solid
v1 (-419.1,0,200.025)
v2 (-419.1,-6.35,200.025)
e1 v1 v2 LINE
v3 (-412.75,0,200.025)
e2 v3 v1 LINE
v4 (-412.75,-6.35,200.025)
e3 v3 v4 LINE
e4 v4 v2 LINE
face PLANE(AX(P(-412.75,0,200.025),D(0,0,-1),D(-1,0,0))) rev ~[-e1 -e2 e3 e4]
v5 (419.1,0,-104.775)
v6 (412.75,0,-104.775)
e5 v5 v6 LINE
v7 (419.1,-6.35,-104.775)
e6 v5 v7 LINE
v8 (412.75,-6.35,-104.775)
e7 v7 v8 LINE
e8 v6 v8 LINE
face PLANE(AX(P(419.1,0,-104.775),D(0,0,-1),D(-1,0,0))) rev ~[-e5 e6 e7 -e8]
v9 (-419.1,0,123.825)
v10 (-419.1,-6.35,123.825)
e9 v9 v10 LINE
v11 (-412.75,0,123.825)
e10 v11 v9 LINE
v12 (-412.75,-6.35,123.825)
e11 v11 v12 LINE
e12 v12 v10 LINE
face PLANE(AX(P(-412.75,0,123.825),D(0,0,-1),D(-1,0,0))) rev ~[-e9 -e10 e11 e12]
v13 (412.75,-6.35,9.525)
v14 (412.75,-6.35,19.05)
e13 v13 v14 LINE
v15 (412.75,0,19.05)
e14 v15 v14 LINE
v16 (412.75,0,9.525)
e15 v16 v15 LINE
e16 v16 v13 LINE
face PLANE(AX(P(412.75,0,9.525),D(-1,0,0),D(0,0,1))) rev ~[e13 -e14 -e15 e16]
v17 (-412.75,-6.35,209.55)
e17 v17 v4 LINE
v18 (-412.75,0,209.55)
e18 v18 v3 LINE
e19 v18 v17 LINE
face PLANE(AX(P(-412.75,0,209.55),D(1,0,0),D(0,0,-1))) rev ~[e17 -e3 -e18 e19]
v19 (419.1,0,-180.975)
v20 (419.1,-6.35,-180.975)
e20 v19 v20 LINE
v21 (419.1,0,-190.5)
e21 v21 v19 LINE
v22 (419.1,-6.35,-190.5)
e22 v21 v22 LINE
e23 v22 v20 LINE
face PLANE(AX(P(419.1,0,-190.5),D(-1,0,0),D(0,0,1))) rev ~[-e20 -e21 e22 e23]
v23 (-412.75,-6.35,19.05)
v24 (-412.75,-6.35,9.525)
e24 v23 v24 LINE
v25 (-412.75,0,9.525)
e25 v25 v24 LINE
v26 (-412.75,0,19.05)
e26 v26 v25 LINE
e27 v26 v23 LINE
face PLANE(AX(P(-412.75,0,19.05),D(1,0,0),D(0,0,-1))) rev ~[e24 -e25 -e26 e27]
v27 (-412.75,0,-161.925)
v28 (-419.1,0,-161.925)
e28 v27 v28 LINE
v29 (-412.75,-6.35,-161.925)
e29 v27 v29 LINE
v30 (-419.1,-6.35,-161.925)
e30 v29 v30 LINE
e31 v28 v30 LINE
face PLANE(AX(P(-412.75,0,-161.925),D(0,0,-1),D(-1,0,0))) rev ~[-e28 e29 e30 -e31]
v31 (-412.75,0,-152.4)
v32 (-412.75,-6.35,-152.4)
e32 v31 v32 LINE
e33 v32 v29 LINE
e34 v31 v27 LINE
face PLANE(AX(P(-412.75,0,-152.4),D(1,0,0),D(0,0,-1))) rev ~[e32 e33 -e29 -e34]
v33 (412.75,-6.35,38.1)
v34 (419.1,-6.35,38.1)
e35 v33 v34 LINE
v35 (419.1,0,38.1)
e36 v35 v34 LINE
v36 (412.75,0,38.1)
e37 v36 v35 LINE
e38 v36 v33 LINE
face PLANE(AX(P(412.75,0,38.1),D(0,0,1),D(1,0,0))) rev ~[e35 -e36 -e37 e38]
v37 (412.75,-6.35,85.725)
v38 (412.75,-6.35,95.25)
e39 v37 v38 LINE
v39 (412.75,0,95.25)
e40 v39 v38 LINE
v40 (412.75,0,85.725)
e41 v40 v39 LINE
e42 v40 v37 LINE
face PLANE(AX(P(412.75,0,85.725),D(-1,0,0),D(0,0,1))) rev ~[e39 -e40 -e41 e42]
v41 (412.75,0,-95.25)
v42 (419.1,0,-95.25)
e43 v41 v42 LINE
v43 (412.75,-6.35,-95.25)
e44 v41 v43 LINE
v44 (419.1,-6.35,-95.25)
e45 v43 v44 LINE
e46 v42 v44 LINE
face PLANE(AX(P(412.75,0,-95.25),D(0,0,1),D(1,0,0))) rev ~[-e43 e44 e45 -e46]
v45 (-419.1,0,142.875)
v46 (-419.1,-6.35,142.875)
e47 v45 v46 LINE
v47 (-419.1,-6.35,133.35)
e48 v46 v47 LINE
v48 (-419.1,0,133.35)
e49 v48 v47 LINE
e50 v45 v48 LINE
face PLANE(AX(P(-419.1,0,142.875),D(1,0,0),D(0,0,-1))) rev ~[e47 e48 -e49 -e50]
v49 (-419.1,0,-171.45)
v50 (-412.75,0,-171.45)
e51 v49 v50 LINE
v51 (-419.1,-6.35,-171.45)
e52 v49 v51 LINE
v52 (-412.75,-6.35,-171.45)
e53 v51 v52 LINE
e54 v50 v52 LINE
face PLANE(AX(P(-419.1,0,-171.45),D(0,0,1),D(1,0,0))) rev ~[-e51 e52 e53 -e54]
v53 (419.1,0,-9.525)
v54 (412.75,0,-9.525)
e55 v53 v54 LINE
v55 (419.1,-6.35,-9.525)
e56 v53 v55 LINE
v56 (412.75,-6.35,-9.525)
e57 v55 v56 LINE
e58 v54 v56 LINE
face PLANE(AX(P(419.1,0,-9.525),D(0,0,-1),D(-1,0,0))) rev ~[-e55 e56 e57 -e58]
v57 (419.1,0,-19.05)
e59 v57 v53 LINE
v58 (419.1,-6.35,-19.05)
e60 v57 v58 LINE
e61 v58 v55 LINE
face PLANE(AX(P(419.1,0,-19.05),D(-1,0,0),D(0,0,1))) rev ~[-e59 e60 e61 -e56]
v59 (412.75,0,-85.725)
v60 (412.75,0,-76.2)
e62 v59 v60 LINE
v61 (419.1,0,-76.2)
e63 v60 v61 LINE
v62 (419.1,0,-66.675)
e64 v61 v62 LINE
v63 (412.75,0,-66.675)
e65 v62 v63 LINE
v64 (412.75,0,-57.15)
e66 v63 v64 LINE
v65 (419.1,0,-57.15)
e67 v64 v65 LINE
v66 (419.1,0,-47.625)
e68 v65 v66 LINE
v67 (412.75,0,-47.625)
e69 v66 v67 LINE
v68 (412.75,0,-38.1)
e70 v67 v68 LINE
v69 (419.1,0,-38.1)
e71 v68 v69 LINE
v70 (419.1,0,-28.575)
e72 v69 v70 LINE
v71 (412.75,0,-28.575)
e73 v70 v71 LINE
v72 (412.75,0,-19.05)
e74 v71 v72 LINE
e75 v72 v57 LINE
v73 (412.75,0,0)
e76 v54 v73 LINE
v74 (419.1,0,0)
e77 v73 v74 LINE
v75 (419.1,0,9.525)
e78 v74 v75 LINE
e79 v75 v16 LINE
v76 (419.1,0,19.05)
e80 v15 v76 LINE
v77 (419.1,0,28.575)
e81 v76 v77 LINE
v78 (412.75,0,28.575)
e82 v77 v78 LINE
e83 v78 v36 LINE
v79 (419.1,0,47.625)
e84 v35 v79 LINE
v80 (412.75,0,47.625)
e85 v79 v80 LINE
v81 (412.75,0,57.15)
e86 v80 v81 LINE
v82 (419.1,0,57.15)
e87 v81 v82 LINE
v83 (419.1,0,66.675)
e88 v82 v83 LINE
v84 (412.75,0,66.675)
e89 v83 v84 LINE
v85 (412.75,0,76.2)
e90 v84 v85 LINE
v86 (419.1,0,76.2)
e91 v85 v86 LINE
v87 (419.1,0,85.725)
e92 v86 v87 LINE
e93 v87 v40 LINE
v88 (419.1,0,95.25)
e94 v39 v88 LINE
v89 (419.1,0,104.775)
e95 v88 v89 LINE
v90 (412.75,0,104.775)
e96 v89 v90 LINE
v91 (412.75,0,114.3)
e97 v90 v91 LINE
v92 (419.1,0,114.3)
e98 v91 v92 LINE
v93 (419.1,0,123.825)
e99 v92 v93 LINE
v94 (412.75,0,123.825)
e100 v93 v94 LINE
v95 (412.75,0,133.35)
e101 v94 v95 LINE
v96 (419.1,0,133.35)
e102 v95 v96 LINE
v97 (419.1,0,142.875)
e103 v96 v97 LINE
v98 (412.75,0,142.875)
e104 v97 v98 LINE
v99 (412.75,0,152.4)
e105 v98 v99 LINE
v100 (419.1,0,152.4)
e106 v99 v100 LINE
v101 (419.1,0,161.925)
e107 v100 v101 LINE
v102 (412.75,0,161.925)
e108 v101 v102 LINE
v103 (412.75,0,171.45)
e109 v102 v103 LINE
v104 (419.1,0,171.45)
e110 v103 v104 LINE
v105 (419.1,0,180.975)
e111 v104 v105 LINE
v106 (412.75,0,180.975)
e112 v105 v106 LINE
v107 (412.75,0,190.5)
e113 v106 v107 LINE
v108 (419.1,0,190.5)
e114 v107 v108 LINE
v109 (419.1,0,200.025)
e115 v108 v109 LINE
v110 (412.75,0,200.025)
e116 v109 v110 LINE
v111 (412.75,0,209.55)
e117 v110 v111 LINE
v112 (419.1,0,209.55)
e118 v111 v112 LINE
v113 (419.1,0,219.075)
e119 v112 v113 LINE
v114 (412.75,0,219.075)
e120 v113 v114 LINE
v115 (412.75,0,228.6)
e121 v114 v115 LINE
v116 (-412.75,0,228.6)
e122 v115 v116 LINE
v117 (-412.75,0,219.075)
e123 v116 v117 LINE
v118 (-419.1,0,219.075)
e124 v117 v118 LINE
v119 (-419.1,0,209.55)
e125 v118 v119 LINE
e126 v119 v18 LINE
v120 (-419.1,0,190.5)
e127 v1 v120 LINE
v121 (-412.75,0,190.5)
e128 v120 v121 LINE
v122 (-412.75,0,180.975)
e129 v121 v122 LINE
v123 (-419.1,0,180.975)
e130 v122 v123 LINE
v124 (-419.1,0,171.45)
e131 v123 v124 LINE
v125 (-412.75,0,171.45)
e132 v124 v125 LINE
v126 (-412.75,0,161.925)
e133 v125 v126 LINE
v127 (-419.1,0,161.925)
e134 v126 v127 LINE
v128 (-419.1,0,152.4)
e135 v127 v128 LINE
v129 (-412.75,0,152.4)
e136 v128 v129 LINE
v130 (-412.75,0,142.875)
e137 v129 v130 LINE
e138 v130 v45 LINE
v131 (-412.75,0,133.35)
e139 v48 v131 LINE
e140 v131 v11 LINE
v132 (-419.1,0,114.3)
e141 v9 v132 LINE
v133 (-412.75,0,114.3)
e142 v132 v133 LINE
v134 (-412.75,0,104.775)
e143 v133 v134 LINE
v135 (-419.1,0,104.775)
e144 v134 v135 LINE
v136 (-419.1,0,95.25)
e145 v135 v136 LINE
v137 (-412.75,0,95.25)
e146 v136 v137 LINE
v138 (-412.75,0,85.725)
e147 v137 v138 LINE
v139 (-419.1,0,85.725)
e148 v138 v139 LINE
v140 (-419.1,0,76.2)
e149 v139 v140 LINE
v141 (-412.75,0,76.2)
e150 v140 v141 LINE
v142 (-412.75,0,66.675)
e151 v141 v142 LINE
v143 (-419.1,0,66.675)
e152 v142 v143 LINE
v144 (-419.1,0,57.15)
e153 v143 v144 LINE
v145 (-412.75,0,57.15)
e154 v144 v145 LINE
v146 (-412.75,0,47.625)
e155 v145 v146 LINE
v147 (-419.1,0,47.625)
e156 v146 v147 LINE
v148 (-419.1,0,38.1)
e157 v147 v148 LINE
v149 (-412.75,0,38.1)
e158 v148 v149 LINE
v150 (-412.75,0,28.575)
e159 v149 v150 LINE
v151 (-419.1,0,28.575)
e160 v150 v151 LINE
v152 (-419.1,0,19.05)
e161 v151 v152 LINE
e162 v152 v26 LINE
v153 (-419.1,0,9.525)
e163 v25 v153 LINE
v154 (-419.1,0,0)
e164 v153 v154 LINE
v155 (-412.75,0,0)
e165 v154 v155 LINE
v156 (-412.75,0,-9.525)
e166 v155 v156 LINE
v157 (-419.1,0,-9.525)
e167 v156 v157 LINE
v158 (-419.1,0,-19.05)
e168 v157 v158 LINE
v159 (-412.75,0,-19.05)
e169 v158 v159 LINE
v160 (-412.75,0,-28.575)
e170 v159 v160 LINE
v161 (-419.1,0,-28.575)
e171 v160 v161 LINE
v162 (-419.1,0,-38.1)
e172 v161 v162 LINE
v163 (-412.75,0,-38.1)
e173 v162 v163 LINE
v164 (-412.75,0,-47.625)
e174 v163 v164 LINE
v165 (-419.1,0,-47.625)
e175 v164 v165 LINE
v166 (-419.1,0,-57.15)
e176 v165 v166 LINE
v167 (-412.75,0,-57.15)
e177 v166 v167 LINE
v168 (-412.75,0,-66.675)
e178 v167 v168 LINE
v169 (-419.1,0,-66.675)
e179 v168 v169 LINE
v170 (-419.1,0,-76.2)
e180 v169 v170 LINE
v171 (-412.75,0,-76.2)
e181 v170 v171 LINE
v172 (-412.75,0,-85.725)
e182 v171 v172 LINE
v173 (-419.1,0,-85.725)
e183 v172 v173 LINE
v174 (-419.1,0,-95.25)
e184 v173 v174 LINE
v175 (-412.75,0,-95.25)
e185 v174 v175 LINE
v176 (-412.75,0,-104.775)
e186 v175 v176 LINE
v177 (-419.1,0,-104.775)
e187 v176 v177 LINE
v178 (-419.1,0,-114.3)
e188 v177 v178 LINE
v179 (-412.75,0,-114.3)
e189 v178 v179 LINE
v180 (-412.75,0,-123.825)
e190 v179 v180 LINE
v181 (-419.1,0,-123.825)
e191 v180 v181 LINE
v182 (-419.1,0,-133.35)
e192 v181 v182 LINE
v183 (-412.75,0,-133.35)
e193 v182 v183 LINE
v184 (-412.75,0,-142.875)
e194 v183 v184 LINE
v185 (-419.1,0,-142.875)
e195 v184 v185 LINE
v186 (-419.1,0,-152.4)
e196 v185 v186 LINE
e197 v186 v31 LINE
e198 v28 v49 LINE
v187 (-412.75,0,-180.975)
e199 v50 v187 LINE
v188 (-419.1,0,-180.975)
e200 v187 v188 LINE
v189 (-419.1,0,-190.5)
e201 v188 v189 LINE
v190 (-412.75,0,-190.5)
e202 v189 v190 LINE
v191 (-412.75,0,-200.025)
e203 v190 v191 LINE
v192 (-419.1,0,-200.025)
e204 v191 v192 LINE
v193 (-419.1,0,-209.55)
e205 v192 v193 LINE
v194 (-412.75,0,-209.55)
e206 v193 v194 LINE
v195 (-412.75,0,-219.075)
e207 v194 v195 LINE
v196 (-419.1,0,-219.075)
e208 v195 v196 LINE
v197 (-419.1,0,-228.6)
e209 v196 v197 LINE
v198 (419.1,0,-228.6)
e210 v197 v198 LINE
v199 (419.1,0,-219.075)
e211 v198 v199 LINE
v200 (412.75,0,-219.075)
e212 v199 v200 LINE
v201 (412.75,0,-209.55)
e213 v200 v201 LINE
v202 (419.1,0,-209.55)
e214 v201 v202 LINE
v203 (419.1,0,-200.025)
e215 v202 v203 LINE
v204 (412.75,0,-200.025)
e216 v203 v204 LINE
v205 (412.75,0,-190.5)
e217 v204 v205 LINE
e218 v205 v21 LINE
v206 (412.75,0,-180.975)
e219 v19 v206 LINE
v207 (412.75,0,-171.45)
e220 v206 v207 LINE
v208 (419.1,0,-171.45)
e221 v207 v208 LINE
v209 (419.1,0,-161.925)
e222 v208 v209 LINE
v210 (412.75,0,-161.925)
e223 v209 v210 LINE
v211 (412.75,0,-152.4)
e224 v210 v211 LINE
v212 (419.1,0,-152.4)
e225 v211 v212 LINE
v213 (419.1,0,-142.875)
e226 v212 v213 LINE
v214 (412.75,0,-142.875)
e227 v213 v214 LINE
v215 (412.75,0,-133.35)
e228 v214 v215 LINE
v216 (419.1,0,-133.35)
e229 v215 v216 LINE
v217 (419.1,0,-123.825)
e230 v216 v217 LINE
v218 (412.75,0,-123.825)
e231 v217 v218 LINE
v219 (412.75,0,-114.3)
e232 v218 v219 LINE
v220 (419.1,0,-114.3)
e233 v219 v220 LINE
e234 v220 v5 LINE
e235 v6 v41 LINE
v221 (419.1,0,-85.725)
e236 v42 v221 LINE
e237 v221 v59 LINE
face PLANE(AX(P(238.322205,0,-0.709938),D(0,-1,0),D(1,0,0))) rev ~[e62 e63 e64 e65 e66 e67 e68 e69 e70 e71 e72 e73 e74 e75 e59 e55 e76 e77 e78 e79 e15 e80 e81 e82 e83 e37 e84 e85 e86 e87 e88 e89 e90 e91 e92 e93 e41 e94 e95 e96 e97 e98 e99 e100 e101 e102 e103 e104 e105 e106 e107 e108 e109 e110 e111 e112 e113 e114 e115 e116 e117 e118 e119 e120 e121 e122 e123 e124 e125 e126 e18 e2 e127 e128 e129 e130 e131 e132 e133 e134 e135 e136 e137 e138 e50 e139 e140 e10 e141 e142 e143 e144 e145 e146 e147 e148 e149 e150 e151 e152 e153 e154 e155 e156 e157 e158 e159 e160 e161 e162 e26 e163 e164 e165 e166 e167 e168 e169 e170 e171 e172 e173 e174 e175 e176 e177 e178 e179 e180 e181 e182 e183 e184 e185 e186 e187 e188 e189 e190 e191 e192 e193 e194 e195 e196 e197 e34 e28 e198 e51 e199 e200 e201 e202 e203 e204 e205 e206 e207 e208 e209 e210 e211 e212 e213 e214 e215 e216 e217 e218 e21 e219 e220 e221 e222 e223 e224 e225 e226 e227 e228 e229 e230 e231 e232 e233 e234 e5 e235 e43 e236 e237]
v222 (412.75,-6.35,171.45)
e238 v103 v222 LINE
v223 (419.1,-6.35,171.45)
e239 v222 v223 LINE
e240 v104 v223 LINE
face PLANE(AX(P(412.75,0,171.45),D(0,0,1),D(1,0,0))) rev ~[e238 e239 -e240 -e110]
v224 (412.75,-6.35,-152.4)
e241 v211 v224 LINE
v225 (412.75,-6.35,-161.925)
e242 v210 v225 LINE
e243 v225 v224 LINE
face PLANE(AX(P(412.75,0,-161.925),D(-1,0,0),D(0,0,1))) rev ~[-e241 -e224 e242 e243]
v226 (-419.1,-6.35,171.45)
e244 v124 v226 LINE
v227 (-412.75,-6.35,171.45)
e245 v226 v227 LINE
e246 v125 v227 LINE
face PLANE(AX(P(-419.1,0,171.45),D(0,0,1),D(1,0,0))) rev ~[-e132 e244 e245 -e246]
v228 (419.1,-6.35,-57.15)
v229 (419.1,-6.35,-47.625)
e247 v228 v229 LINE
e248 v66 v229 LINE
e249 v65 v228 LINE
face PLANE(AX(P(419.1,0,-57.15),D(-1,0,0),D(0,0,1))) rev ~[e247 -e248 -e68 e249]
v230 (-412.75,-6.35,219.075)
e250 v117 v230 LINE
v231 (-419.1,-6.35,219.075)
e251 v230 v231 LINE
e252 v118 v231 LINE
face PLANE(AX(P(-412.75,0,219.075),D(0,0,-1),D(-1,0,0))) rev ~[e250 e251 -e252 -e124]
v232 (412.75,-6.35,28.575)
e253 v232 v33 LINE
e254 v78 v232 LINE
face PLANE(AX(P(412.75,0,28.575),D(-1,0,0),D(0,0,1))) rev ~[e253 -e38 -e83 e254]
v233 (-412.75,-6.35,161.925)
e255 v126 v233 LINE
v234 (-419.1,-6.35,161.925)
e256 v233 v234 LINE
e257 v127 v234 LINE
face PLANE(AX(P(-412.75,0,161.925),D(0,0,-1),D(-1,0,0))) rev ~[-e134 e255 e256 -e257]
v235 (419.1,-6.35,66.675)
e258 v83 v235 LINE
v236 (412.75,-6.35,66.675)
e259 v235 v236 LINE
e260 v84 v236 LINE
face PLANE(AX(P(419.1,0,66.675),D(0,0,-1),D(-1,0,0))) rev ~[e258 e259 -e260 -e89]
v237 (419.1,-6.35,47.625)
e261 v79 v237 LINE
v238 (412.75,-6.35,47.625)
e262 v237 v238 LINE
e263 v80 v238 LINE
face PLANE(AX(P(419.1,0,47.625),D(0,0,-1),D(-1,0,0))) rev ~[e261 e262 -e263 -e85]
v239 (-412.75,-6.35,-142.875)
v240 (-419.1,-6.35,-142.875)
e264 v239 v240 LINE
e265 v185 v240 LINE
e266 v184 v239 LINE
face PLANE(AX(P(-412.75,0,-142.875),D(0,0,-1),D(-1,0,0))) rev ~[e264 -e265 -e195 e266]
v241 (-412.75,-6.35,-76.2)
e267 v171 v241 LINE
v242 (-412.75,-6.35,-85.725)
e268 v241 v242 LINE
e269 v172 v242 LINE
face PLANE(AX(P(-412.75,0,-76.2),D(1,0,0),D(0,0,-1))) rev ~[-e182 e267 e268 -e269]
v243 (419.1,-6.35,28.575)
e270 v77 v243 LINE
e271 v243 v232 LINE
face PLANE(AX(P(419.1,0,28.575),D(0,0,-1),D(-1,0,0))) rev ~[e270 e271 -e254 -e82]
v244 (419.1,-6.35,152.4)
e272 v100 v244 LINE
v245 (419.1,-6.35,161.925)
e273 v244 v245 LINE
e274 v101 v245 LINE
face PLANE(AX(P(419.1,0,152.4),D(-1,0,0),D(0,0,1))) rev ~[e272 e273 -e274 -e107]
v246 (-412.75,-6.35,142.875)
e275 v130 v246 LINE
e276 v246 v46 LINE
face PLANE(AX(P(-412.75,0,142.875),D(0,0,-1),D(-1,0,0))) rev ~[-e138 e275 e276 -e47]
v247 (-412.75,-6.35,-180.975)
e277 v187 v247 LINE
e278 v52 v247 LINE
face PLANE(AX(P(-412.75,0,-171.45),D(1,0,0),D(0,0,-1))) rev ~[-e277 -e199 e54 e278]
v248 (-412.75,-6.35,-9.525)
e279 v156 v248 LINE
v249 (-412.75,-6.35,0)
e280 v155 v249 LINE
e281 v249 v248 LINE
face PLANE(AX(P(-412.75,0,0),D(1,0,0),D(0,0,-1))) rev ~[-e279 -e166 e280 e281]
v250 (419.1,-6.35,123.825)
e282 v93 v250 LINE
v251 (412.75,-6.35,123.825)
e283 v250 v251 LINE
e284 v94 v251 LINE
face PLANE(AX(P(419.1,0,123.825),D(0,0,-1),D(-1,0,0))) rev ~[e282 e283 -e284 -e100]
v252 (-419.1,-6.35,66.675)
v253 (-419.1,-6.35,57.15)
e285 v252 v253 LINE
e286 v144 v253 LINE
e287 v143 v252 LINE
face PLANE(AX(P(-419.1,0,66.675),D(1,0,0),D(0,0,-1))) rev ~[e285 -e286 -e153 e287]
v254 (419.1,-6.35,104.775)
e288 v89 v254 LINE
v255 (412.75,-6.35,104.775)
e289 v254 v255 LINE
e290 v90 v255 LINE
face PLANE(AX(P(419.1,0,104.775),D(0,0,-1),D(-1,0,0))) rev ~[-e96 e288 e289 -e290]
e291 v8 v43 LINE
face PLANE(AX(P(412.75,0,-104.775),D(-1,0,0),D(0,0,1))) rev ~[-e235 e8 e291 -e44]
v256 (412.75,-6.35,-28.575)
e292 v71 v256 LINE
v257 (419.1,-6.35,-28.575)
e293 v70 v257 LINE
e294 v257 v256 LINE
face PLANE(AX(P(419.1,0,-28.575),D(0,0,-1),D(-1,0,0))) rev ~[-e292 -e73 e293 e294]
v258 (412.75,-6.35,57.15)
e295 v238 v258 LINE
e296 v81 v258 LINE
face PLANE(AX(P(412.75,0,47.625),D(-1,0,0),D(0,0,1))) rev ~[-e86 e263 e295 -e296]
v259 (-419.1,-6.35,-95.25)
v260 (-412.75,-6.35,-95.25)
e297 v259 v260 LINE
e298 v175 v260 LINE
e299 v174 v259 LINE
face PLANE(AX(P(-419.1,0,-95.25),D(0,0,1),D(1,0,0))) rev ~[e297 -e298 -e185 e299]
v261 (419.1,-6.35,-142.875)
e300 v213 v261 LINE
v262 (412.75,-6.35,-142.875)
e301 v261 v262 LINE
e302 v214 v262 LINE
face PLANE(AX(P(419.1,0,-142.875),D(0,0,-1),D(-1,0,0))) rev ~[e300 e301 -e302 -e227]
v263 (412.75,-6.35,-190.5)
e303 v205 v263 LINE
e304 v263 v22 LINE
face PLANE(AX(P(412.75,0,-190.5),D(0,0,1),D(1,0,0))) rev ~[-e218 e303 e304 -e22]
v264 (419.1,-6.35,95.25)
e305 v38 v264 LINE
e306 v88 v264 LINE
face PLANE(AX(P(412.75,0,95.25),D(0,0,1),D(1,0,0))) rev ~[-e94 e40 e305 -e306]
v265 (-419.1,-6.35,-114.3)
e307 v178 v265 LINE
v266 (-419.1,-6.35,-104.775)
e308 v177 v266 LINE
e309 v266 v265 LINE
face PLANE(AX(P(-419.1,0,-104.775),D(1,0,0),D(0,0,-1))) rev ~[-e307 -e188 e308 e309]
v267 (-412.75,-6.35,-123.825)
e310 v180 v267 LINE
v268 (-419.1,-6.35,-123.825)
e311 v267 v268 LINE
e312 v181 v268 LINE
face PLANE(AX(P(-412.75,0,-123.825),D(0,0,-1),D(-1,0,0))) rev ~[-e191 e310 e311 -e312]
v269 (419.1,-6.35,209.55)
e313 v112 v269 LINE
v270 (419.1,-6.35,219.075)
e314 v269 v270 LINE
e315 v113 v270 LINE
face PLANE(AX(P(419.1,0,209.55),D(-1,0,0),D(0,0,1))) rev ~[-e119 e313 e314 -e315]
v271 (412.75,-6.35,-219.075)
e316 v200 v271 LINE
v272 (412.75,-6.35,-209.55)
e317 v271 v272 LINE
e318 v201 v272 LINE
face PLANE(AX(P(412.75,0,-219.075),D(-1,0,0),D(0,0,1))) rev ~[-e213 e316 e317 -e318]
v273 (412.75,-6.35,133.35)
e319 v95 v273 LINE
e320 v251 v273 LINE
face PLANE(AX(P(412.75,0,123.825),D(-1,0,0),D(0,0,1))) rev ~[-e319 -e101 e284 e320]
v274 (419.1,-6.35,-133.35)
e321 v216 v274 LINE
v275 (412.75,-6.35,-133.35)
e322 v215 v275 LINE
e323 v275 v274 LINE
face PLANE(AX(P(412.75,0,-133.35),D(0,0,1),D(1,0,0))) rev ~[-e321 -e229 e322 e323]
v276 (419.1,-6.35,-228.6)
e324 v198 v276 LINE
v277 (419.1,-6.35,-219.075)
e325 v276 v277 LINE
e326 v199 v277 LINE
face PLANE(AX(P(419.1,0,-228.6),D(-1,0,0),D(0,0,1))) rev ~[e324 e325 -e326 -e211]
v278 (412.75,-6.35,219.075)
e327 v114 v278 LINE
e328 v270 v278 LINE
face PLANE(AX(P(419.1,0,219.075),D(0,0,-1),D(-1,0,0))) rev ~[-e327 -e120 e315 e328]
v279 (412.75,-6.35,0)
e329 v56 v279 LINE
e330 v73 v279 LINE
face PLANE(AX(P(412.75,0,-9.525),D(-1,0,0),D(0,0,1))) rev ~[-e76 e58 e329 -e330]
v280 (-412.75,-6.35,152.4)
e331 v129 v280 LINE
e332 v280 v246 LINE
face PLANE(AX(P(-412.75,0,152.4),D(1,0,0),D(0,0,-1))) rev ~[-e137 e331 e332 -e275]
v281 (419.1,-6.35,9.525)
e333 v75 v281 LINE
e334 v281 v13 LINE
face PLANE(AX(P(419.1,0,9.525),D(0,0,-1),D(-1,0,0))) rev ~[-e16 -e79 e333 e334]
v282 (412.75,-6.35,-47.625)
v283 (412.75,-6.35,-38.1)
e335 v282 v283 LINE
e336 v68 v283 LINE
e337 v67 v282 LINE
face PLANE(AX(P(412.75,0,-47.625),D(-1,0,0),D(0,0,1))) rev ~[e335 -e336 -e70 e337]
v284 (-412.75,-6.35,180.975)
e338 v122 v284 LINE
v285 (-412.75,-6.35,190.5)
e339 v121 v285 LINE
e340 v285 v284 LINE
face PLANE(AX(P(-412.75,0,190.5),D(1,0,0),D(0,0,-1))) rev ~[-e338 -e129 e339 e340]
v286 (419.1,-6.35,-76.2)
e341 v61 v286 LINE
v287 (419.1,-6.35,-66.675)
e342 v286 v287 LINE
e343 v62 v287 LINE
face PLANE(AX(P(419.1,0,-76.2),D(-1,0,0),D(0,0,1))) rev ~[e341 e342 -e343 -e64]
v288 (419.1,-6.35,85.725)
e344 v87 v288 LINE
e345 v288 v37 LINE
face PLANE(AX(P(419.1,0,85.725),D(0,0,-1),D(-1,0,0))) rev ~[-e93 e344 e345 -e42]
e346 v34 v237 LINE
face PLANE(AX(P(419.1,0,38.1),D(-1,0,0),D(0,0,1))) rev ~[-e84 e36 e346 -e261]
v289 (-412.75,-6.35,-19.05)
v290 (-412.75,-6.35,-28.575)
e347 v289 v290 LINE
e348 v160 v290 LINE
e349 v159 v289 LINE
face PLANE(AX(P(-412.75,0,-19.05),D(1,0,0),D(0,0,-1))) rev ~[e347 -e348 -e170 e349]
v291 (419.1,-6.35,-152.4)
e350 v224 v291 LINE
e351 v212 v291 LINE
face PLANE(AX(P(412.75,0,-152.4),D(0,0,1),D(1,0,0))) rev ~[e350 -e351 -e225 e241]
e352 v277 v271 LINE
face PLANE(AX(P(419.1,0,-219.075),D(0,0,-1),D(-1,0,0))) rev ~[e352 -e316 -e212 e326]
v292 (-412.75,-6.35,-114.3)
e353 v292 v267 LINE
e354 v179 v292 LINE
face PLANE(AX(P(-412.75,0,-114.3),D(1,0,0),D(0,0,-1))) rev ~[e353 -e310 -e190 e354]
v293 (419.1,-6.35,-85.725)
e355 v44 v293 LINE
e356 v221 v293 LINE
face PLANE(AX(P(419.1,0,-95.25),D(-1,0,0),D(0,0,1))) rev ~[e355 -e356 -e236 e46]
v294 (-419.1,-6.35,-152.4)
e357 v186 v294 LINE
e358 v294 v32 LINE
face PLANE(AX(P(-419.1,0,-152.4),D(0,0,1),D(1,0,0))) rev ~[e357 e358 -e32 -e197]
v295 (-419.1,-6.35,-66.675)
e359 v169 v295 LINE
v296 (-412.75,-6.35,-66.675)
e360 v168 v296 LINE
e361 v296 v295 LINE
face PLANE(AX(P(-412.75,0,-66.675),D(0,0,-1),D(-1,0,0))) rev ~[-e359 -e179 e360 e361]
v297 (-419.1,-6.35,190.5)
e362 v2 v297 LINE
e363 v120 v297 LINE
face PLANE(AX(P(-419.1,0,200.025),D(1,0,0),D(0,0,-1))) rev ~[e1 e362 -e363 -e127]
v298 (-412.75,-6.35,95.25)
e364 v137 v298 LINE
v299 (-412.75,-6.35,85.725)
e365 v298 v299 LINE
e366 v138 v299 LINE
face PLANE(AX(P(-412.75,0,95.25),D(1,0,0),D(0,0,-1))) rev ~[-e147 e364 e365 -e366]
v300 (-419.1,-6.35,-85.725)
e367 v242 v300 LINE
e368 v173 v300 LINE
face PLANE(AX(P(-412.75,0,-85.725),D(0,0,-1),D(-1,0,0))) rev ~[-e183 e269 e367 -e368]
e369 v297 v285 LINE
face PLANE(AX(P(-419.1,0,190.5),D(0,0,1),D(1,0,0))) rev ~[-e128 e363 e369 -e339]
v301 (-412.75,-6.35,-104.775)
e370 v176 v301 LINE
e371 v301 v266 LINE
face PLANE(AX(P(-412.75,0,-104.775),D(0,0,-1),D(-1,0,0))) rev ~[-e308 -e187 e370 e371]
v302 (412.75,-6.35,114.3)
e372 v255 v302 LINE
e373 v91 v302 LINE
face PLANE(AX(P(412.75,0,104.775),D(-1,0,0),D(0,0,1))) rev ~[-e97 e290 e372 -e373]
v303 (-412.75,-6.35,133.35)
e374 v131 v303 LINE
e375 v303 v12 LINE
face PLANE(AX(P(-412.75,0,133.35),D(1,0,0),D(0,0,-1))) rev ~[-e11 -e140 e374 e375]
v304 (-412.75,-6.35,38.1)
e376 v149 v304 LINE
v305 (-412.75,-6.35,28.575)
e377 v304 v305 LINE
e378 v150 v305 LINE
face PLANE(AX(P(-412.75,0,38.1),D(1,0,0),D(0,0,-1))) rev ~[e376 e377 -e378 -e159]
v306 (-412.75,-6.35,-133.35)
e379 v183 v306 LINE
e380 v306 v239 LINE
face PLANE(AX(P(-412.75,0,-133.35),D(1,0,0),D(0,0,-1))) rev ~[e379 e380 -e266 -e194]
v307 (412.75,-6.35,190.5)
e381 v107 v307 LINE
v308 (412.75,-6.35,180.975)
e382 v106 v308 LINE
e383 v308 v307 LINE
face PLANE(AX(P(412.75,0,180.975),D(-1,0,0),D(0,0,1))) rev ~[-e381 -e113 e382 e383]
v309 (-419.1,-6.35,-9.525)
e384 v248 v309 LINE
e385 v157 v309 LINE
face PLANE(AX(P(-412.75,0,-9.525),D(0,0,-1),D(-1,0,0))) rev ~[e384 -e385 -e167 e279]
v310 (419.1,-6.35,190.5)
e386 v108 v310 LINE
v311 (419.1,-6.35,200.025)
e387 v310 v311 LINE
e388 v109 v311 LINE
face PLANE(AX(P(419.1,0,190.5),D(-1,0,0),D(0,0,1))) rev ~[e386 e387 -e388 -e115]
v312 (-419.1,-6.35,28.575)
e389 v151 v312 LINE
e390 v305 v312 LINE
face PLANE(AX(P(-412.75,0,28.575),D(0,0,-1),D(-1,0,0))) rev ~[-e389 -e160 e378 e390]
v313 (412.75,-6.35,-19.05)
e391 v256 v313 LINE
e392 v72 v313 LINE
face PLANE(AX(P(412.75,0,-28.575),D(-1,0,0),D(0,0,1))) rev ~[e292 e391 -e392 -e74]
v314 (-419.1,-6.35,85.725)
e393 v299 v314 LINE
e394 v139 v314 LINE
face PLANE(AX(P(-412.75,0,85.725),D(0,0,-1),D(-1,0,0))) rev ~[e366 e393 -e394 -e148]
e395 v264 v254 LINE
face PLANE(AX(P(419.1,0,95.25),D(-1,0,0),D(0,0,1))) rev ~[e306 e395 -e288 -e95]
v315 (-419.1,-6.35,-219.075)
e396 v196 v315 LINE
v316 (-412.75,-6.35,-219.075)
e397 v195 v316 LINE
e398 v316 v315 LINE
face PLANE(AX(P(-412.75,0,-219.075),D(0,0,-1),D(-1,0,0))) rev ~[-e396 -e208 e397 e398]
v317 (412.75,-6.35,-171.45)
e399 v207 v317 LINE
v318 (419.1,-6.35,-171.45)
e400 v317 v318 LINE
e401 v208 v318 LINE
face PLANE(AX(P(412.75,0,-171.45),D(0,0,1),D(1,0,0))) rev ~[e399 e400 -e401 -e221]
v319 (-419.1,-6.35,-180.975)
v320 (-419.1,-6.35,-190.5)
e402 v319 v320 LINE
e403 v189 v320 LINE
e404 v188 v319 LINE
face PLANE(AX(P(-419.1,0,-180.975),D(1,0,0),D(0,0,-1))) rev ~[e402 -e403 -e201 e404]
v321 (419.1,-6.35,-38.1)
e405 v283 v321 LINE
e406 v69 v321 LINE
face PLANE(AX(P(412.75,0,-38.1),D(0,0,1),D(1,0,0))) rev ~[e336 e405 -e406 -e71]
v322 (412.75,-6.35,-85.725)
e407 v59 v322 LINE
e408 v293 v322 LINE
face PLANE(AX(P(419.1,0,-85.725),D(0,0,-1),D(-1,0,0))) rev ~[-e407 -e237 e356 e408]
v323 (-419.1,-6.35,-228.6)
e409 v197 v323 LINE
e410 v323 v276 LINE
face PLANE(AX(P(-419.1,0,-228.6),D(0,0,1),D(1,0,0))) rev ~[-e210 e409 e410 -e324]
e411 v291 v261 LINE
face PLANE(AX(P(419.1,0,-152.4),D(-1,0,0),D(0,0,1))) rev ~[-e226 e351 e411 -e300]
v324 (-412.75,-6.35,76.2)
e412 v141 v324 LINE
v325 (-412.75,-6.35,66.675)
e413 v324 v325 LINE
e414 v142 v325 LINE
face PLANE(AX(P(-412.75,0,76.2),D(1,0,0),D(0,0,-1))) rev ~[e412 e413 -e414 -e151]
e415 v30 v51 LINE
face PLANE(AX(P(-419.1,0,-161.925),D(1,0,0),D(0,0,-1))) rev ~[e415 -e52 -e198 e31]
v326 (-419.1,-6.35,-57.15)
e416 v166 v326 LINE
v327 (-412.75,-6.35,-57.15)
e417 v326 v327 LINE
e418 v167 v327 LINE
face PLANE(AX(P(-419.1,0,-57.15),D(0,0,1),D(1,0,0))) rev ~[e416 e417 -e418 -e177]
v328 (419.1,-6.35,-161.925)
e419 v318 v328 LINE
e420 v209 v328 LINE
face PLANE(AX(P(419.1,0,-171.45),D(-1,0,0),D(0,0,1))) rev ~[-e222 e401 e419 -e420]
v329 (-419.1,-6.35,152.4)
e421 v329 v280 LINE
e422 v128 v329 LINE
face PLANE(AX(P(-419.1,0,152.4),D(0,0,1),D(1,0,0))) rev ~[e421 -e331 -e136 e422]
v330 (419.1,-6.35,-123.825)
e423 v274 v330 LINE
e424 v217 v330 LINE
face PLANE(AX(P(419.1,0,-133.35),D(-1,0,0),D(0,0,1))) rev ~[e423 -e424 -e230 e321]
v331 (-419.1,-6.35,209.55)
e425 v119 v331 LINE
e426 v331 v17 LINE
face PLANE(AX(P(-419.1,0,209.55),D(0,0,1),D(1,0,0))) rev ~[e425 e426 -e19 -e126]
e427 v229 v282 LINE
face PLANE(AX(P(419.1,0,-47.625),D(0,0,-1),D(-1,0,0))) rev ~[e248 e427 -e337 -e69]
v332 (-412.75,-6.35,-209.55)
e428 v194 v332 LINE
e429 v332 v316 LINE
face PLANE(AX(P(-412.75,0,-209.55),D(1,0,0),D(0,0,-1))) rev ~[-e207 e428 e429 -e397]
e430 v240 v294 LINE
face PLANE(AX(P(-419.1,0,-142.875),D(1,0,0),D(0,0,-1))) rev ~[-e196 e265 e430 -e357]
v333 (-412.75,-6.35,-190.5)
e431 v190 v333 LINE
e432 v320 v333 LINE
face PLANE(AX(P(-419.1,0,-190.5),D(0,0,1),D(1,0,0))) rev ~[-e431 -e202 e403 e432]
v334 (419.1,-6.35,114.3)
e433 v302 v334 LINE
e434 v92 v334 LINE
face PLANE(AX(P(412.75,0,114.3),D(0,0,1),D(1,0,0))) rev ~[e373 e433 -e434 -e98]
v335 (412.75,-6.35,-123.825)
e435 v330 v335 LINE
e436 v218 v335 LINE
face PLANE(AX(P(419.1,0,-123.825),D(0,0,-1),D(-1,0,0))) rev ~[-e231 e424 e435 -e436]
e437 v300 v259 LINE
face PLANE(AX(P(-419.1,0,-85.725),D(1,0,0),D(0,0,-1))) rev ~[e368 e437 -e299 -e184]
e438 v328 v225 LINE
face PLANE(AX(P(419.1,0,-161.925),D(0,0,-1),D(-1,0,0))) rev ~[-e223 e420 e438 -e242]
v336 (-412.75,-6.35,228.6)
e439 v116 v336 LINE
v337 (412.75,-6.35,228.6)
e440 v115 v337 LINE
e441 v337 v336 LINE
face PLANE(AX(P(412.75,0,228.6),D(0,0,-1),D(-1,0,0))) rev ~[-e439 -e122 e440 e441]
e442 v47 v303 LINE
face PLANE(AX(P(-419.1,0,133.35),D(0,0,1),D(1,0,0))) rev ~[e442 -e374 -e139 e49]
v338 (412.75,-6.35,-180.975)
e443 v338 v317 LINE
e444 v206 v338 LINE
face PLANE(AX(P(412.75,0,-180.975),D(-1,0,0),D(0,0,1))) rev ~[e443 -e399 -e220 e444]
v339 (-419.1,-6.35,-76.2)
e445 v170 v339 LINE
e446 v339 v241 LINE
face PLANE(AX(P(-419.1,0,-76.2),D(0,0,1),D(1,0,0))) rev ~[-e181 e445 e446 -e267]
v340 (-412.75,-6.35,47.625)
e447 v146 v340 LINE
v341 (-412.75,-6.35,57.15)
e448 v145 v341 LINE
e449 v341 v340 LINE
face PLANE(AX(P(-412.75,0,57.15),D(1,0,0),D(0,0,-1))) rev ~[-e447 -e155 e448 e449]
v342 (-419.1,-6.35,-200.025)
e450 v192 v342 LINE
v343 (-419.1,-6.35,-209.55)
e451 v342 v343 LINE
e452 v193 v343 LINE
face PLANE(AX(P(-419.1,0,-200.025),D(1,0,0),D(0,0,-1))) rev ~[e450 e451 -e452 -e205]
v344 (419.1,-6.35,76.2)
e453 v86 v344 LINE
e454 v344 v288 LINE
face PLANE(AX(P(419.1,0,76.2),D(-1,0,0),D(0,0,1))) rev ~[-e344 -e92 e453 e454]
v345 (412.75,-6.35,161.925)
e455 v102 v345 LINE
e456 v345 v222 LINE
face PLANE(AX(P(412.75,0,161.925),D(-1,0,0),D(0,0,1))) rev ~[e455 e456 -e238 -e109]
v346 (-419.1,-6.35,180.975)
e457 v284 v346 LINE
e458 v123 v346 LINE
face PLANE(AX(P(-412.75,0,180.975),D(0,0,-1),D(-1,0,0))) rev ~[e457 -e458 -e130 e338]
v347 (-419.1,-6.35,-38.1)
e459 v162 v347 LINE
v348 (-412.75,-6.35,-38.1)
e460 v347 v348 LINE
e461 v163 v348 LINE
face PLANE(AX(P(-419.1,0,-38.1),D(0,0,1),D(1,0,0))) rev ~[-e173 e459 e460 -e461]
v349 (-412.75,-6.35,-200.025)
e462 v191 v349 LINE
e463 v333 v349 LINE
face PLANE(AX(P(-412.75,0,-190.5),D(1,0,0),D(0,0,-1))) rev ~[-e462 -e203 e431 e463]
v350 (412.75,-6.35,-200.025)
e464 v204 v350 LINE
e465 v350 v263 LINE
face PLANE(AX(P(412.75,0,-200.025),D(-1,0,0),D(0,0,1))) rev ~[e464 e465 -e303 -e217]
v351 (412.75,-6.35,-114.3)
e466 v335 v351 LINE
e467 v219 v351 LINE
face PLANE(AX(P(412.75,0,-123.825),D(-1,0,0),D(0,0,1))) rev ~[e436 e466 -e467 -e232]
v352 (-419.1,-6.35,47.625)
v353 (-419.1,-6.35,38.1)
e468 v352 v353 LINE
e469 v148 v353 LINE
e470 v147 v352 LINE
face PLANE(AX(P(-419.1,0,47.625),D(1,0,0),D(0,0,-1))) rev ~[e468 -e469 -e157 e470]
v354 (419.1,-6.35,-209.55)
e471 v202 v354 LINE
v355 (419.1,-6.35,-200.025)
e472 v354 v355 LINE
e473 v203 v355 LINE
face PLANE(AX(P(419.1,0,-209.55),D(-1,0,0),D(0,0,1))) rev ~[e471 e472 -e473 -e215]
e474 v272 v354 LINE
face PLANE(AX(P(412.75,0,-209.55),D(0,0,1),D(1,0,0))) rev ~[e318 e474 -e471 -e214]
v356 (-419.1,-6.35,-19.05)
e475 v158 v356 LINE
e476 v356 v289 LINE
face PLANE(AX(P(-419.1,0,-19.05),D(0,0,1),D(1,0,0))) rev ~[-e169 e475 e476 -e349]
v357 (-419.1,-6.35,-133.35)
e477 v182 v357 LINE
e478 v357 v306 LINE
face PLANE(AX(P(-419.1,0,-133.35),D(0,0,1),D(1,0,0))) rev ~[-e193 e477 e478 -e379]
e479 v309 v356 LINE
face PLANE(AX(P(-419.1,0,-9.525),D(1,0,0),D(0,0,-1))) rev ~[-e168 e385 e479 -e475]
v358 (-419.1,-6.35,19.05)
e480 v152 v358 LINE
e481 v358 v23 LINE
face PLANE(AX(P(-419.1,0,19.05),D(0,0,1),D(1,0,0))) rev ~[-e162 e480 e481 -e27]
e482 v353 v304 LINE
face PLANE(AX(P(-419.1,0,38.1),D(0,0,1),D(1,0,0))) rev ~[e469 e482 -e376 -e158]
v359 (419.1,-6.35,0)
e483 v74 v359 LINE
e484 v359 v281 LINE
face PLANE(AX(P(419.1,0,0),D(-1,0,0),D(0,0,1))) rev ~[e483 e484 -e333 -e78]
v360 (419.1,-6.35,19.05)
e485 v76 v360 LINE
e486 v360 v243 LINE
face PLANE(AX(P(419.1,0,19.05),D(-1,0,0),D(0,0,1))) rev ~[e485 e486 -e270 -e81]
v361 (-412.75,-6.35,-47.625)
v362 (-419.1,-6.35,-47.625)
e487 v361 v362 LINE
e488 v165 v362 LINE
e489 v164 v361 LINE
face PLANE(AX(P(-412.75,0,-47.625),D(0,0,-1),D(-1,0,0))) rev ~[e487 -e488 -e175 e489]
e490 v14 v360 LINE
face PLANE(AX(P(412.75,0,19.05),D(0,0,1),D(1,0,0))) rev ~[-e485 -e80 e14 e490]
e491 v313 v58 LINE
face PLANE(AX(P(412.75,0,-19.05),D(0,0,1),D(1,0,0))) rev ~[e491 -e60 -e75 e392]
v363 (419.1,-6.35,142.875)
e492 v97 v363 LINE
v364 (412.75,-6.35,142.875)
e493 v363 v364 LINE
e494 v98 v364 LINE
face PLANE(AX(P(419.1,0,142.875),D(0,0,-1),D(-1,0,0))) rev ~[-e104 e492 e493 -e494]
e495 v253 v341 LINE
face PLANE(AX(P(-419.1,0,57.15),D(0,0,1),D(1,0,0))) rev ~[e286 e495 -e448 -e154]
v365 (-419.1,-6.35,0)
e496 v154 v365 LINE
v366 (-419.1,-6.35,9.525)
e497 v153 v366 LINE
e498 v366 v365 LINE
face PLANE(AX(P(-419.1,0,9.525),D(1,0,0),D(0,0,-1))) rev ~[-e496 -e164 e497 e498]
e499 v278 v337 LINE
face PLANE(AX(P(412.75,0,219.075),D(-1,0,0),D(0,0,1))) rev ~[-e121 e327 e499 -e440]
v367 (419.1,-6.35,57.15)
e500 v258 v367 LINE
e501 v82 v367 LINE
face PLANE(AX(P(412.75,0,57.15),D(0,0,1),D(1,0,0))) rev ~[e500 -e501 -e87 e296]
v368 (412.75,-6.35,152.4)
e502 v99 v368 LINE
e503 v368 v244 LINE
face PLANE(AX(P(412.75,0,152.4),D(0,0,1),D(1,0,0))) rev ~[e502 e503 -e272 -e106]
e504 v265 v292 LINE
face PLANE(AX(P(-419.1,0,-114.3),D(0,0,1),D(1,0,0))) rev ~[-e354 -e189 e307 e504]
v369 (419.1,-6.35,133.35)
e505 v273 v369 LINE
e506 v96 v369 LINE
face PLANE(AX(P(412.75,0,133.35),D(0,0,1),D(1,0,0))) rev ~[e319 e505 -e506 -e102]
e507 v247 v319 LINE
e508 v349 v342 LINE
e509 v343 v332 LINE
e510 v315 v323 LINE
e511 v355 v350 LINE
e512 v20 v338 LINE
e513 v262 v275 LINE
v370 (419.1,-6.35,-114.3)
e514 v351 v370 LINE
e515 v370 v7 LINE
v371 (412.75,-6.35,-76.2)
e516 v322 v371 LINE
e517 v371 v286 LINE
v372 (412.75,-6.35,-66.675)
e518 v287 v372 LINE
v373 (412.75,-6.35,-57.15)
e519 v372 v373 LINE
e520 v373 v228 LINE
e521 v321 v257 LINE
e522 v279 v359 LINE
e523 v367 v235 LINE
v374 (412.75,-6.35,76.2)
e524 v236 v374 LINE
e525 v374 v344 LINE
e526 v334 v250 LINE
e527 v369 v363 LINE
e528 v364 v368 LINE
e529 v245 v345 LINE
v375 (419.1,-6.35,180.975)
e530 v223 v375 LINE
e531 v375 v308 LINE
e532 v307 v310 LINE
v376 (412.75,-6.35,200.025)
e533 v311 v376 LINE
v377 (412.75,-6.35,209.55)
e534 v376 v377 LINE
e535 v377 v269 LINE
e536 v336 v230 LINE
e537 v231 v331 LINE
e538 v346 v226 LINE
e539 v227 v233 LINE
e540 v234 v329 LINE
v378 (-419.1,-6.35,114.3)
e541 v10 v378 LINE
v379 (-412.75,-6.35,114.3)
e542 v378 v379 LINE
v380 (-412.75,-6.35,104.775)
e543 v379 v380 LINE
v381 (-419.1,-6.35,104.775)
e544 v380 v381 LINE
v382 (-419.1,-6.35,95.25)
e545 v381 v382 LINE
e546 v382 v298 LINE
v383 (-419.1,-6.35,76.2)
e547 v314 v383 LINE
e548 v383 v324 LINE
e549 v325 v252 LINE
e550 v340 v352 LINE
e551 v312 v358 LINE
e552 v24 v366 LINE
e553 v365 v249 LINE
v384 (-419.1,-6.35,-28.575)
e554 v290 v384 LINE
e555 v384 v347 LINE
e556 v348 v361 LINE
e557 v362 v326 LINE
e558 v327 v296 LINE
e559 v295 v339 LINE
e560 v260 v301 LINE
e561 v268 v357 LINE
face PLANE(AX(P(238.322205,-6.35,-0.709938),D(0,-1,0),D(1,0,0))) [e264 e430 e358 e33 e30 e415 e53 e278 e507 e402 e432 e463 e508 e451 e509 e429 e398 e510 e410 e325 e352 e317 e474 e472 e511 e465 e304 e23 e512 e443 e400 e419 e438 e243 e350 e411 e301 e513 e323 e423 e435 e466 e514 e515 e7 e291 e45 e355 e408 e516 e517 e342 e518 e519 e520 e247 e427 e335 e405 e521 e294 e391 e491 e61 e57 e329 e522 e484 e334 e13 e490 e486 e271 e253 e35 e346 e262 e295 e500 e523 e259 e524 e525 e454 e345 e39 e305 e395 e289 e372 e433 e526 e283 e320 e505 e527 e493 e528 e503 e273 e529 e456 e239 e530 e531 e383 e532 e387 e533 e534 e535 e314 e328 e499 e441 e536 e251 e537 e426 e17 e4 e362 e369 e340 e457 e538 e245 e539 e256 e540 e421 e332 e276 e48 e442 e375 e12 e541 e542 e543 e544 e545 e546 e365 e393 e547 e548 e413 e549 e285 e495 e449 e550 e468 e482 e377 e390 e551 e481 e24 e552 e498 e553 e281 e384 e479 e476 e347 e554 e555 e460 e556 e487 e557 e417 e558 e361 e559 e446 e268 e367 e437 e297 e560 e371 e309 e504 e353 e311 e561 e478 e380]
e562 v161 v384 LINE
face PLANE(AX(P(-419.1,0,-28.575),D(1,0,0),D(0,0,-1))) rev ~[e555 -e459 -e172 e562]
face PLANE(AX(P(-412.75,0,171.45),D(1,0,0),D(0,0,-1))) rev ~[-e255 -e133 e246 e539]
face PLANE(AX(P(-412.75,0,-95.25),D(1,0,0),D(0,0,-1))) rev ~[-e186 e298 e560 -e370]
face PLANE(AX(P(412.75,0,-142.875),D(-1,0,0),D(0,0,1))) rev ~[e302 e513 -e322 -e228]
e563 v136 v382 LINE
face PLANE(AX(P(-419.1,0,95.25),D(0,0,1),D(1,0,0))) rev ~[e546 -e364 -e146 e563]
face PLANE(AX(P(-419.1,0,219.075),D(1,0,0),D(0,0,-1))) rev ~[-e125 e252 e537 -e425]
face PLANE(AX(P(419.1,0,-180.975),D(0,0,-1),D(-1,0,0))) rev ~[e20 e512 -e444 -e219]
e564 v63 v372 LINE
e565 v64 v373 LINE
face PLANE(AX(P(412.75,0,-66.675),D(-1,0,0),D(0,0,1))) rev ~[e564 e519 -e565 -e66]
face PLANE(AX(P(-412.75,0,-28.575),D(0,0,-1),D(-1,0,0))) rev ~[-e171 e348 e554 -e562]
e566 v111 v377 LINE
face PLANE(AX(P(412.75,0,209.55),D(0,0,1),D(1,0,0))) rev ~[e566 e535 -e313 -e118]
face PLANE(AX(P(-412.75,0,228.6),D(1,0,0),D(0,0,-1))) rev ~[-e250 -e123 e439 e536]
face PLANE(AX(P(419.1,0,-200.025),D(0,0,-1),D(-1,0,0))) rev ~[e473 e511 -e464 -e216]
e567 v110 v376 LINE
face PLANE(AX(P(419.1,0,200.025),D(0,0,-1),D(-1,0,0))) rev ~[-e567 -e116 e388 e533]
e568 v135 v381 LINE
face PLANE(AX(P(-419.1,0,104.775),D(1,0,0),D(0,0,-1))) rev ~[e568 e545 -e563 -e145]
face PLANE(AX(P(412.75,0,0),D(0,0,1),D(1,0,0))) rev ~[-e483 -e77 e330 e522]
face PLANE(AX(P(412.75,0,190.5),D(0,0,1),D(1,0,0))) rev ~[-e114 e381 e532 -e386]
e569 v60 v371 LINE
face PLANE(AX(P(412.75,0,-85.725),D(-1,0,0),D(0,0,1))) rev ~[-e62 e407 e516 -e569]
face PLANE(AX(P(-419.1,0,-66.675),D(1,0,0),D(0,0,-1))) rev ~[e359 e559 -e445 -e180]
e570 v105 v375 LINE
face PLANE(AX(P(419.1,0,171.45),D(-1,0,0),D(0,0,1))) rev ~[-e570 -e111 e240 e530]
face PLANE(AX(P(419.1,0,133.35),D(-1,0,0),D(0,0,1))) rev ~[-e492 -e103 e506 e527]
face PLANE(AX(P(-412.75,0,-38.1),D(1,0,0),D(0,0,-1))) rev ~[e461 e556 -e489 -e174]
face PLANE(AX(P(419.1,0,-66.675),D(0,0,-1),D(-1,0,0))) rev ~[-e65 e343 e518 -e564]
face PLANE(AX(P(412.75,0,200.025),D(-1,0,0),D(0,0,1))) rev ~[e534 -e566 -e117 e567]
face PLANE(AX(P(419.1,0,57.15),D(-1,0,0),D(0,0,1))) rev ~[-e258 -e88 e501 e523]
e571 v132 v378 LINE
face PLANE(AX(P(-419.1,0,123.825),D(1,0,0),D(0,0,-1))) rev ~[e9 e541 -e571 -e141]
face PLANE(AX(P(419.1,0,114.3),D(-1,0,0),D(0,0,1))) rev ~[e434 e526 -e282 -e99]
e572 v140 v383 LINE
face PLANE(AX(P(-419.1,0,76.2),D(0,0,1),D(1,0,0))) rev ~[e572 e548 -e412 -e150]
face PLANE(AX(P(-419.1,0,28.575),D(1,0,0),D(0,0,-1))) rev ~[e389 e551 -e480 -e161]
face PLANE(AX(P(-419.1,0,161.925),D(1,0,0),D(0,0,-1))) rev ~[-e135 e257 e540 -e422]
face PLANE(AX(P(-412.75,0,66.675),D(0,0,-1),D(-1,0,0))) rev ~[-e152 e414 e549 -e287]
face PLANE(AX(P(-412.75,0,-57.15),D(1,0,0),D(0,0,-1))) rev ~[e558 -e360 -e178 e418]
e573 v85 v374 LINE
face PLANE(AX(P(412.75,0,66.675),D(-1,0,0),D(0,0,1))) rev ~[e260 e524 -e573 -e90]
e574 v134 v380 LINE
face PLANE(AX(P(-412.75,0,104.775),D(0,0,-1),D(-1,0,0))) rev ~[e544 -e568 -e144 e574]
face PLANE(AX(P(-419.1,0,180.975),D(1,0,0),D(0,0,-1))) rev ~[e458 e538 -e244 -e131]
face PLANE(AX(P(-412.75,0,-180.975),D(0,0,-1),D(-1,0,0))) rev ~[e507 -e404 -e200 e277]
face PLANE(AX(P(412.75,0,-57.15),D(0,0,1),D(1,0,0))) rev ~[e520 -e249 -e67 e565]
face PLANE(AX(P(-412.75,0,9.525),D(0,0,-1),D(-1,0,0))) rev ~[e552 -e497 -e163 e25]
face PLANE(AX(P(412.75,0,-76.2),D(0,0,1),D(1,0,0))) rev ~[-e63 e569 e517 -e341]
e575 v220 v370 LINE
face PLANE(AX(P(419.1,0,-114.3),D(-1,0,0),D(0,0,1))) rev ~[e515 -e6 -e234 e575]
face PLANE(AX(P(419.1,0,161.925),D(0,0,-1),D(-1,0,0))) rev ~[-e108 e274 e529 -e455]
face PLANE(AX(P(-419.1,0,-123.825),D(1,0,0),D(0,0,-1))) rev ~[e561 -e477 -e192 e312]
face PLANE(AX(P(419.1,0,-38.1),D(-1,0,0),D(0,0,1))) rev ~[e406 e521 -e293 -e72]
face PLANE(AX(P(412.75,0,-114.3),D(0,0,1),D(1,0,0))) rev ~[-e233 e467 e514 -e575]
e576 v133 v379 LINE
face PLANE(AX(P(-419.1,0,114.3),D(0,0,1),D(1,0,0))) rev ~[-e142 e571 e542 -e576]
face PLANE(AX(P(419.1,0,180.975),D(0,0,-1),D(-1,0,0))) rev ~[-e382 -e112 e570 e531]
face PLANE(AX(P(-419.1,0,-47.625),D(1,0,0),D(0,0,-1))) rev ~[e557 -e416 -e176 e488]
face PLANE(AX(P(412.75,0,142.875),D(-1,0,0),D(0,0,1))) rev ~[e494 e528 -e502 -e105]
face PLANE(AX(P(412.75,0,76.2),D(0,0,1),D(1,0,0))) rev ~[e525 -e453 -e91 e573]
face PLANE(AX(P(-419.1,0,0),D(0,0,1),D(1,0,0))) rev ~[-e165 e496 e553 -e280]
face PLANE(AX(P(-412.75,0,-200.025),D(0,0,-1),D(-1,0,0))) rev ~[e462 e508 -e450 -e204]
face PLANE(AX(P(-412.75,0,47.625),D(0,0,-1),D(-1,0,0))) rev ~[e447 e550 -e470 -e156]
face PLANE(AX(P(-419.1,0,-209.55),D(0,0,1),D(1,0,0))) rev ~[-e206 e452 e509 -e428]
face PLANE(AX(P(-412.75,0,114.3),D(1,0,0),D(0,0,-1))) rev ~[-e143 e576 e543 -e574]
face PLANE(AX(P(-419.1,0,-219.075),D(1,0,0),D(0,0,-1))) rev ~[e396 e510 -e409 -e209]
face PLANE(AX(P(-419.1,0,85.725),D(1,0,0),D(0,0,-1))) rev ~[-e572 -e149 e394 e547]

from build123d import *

# Parameters (mm, degrees)
F1_DEPTH = 6.35


with BuildPart() as f1:
    # F0 (on Front) → F1 (new body)
    with BuildSketch(Plane.XZ):
        Polygon((412.75, 219.075), (412.75, 228.6), (0, 228.6), (0, -228.6), (419.1, -228.6), (419.1, -219.075), (412.75, -219.075), (412.75, -209.55), (419.1, -209.55), (419.1, -200.025), (412.75, -200.025), (412.75, -190.5), (419.1, -190.5), (419.1, -180.975), (412.75, -180.975), (412.75, -171.45), (419.1, -171.45), (419.1, -161.925), (412.75, -161.925), (412.75, -152.4), (419.1, -152.4), (419.1, -142.875), (412.75, -142.875), (412.75, -133.35), (419.1, -133.35), (419.1, -123.825), (412.75, -123.825), (412.75, -114.3), (419.1, -114.3), (419.1, -104.775), (412.75, -104.775), (412.75, -95.25), (419.1, -95.25), (419.1, -85.725), (412.75, -85.725), (412.75, -76.2), (419.1, -76.2), (419.1, -66.675), (412.75, -66.675), (412.75, -57.15), (419.1, -57.15), (419.1, -47.625), (412.75, -47.625), (412.75, -38.1), (419.1, -38.1), (419.1, -28.575), (412.75, -28.575), (412.75, -19.05), (419.1, -19.05), (419.1, -9.525), (412.75, -9.525), (412.75, 0), (419.1, 0), (419.1, 9.525), (412.75, 9.525), (412.75, 19.05), (419.1, 19.05), (419.1, 28.575), (412.75, 28.575), (412.75, 38.1), (419.1, 38.1), (419.1, 47.625), (412.75, 47.625), (412.75, 57.15), (419.1, 57.15), (419.1, 66.675), (412.75, 66.675), (412.75, 76.2), (419.1, 76.2), (419.1, 85.725), (412.75, 85.725), (412.75, 95.25), (419.1, 95.25), (419.1, 104.775), (412.75, 104.775), (412.75, 114.3), (419.1, 114.3), (419.1, 123.825), (412.75, 123.825), (412.75, 133.35), (419.1, 133.35), (419.1, 142.875), (412.75, 142.875), (412.75, 152.4), (419.1, 152.4), (419.1, 161.925), (412.75, 161.925), (412.75, 171.45), (419.1, 171.45), (419.1, 180.975), (412.75, 180.975), (412.75, 190.5), (419.1, 190.5), (419.1, 200.025), (412.75, 200.025), (412.75, 209.55), (419.1, 209.55), (419.1, 219.075), align=None)
        Polygon((0, -228.6), (0, 228.6), (-412.75, 228.6), (-412.75, 219.075), (-419.1, 219.075), (-419.1, 209.55), (-412.75, 209.55), (-412.75, 200.025), (-419.1, 200.025), (-419.1, 190.5), (-412.75, 190.5), (-412.75, 180.975), (-419.1, 180.975), (-419.1, 171.45), (-412.75, 171.45), (-412.75, 161.925), (-419.1, 161.925), (-419.1, 152.4), (-412.75, 152.4), (-412.75, 142.875), (-419.1, 142.875), (-419.1, 133.35), (-412.75, 133.35), (-412.75, 123.825), (-419.1, 123.825), (-419.1, 114.3), (-412.75, 114.3), (-412.75, 104.775), (-419.1, 104.775), (-419.1, 95.25), (-412.75, 95.25), (-412.75, 85.725), (-419.1, 85.725), (-419.1, 76.2), (-412.75, 76.2), (-412.75, 66.675), (-419.1, 66.675), (-419.1, 57.15), (-412.75, 57.15), (-412.75, 47.625), (-419.1, 47.625), (-419.1, 38.1), (-412.75, 38.1), (-412.75, 28.575), (-419.1, 28.575), (-419.1, 19.05), (-412.75, 19.05), (-412.75, 9.525), (-419.1, 9.525), (-419.1, 0), (-412.75, 0), (-412.75, -9.525), (-419.1, -9.525), (-419.1, -19.05), (-412.75, -19.05), (-412.75, -28.575), (-419.1, -28.575), (-419.1, -38.1), (-412.75, -38.1), (-412.75, -47.625), (-419.1, -47.625), (-419.1, -57.15), (-412.75, -57.15), (-412.75, -66.675), (-419.1, -66.675), (-419.1, -76.2), (-412.75, -76.2), (-412.75, -85.725), (-419.1, -85.725), (-419.1, -95.25), (-412.75, -95.25), (-412.75, -104.775), (-419.1, -104.775), (-419.1, -114.3), (-412.75, -114.3), (-412.75, -123.825), (-419.1, -123.825), (-419.1, -133.35), (-412.75, -133.35), (-412.75, -142.875), (-419.1, -142.875), (-419.1, -152.4), (-412.75, -152.4), (-412.75, -161.925), (-419.1, -161.925), (-419.1, -171.45), (-412.75, -171.45), (-412.75, -180.975), (-419.1, -180.975), (-419.1, -190.5), (-412.75, -190.5), (-412.75, -200.025), (-419.1, -200.025), (-419.1, -209.55), (-412.75, -209.55), (-412.75, -219.075), (-419.1, -219.075), (-419.1, -228.6), align=None)
    extrude(amount=F1_DEPTH)


solid = f1.part
